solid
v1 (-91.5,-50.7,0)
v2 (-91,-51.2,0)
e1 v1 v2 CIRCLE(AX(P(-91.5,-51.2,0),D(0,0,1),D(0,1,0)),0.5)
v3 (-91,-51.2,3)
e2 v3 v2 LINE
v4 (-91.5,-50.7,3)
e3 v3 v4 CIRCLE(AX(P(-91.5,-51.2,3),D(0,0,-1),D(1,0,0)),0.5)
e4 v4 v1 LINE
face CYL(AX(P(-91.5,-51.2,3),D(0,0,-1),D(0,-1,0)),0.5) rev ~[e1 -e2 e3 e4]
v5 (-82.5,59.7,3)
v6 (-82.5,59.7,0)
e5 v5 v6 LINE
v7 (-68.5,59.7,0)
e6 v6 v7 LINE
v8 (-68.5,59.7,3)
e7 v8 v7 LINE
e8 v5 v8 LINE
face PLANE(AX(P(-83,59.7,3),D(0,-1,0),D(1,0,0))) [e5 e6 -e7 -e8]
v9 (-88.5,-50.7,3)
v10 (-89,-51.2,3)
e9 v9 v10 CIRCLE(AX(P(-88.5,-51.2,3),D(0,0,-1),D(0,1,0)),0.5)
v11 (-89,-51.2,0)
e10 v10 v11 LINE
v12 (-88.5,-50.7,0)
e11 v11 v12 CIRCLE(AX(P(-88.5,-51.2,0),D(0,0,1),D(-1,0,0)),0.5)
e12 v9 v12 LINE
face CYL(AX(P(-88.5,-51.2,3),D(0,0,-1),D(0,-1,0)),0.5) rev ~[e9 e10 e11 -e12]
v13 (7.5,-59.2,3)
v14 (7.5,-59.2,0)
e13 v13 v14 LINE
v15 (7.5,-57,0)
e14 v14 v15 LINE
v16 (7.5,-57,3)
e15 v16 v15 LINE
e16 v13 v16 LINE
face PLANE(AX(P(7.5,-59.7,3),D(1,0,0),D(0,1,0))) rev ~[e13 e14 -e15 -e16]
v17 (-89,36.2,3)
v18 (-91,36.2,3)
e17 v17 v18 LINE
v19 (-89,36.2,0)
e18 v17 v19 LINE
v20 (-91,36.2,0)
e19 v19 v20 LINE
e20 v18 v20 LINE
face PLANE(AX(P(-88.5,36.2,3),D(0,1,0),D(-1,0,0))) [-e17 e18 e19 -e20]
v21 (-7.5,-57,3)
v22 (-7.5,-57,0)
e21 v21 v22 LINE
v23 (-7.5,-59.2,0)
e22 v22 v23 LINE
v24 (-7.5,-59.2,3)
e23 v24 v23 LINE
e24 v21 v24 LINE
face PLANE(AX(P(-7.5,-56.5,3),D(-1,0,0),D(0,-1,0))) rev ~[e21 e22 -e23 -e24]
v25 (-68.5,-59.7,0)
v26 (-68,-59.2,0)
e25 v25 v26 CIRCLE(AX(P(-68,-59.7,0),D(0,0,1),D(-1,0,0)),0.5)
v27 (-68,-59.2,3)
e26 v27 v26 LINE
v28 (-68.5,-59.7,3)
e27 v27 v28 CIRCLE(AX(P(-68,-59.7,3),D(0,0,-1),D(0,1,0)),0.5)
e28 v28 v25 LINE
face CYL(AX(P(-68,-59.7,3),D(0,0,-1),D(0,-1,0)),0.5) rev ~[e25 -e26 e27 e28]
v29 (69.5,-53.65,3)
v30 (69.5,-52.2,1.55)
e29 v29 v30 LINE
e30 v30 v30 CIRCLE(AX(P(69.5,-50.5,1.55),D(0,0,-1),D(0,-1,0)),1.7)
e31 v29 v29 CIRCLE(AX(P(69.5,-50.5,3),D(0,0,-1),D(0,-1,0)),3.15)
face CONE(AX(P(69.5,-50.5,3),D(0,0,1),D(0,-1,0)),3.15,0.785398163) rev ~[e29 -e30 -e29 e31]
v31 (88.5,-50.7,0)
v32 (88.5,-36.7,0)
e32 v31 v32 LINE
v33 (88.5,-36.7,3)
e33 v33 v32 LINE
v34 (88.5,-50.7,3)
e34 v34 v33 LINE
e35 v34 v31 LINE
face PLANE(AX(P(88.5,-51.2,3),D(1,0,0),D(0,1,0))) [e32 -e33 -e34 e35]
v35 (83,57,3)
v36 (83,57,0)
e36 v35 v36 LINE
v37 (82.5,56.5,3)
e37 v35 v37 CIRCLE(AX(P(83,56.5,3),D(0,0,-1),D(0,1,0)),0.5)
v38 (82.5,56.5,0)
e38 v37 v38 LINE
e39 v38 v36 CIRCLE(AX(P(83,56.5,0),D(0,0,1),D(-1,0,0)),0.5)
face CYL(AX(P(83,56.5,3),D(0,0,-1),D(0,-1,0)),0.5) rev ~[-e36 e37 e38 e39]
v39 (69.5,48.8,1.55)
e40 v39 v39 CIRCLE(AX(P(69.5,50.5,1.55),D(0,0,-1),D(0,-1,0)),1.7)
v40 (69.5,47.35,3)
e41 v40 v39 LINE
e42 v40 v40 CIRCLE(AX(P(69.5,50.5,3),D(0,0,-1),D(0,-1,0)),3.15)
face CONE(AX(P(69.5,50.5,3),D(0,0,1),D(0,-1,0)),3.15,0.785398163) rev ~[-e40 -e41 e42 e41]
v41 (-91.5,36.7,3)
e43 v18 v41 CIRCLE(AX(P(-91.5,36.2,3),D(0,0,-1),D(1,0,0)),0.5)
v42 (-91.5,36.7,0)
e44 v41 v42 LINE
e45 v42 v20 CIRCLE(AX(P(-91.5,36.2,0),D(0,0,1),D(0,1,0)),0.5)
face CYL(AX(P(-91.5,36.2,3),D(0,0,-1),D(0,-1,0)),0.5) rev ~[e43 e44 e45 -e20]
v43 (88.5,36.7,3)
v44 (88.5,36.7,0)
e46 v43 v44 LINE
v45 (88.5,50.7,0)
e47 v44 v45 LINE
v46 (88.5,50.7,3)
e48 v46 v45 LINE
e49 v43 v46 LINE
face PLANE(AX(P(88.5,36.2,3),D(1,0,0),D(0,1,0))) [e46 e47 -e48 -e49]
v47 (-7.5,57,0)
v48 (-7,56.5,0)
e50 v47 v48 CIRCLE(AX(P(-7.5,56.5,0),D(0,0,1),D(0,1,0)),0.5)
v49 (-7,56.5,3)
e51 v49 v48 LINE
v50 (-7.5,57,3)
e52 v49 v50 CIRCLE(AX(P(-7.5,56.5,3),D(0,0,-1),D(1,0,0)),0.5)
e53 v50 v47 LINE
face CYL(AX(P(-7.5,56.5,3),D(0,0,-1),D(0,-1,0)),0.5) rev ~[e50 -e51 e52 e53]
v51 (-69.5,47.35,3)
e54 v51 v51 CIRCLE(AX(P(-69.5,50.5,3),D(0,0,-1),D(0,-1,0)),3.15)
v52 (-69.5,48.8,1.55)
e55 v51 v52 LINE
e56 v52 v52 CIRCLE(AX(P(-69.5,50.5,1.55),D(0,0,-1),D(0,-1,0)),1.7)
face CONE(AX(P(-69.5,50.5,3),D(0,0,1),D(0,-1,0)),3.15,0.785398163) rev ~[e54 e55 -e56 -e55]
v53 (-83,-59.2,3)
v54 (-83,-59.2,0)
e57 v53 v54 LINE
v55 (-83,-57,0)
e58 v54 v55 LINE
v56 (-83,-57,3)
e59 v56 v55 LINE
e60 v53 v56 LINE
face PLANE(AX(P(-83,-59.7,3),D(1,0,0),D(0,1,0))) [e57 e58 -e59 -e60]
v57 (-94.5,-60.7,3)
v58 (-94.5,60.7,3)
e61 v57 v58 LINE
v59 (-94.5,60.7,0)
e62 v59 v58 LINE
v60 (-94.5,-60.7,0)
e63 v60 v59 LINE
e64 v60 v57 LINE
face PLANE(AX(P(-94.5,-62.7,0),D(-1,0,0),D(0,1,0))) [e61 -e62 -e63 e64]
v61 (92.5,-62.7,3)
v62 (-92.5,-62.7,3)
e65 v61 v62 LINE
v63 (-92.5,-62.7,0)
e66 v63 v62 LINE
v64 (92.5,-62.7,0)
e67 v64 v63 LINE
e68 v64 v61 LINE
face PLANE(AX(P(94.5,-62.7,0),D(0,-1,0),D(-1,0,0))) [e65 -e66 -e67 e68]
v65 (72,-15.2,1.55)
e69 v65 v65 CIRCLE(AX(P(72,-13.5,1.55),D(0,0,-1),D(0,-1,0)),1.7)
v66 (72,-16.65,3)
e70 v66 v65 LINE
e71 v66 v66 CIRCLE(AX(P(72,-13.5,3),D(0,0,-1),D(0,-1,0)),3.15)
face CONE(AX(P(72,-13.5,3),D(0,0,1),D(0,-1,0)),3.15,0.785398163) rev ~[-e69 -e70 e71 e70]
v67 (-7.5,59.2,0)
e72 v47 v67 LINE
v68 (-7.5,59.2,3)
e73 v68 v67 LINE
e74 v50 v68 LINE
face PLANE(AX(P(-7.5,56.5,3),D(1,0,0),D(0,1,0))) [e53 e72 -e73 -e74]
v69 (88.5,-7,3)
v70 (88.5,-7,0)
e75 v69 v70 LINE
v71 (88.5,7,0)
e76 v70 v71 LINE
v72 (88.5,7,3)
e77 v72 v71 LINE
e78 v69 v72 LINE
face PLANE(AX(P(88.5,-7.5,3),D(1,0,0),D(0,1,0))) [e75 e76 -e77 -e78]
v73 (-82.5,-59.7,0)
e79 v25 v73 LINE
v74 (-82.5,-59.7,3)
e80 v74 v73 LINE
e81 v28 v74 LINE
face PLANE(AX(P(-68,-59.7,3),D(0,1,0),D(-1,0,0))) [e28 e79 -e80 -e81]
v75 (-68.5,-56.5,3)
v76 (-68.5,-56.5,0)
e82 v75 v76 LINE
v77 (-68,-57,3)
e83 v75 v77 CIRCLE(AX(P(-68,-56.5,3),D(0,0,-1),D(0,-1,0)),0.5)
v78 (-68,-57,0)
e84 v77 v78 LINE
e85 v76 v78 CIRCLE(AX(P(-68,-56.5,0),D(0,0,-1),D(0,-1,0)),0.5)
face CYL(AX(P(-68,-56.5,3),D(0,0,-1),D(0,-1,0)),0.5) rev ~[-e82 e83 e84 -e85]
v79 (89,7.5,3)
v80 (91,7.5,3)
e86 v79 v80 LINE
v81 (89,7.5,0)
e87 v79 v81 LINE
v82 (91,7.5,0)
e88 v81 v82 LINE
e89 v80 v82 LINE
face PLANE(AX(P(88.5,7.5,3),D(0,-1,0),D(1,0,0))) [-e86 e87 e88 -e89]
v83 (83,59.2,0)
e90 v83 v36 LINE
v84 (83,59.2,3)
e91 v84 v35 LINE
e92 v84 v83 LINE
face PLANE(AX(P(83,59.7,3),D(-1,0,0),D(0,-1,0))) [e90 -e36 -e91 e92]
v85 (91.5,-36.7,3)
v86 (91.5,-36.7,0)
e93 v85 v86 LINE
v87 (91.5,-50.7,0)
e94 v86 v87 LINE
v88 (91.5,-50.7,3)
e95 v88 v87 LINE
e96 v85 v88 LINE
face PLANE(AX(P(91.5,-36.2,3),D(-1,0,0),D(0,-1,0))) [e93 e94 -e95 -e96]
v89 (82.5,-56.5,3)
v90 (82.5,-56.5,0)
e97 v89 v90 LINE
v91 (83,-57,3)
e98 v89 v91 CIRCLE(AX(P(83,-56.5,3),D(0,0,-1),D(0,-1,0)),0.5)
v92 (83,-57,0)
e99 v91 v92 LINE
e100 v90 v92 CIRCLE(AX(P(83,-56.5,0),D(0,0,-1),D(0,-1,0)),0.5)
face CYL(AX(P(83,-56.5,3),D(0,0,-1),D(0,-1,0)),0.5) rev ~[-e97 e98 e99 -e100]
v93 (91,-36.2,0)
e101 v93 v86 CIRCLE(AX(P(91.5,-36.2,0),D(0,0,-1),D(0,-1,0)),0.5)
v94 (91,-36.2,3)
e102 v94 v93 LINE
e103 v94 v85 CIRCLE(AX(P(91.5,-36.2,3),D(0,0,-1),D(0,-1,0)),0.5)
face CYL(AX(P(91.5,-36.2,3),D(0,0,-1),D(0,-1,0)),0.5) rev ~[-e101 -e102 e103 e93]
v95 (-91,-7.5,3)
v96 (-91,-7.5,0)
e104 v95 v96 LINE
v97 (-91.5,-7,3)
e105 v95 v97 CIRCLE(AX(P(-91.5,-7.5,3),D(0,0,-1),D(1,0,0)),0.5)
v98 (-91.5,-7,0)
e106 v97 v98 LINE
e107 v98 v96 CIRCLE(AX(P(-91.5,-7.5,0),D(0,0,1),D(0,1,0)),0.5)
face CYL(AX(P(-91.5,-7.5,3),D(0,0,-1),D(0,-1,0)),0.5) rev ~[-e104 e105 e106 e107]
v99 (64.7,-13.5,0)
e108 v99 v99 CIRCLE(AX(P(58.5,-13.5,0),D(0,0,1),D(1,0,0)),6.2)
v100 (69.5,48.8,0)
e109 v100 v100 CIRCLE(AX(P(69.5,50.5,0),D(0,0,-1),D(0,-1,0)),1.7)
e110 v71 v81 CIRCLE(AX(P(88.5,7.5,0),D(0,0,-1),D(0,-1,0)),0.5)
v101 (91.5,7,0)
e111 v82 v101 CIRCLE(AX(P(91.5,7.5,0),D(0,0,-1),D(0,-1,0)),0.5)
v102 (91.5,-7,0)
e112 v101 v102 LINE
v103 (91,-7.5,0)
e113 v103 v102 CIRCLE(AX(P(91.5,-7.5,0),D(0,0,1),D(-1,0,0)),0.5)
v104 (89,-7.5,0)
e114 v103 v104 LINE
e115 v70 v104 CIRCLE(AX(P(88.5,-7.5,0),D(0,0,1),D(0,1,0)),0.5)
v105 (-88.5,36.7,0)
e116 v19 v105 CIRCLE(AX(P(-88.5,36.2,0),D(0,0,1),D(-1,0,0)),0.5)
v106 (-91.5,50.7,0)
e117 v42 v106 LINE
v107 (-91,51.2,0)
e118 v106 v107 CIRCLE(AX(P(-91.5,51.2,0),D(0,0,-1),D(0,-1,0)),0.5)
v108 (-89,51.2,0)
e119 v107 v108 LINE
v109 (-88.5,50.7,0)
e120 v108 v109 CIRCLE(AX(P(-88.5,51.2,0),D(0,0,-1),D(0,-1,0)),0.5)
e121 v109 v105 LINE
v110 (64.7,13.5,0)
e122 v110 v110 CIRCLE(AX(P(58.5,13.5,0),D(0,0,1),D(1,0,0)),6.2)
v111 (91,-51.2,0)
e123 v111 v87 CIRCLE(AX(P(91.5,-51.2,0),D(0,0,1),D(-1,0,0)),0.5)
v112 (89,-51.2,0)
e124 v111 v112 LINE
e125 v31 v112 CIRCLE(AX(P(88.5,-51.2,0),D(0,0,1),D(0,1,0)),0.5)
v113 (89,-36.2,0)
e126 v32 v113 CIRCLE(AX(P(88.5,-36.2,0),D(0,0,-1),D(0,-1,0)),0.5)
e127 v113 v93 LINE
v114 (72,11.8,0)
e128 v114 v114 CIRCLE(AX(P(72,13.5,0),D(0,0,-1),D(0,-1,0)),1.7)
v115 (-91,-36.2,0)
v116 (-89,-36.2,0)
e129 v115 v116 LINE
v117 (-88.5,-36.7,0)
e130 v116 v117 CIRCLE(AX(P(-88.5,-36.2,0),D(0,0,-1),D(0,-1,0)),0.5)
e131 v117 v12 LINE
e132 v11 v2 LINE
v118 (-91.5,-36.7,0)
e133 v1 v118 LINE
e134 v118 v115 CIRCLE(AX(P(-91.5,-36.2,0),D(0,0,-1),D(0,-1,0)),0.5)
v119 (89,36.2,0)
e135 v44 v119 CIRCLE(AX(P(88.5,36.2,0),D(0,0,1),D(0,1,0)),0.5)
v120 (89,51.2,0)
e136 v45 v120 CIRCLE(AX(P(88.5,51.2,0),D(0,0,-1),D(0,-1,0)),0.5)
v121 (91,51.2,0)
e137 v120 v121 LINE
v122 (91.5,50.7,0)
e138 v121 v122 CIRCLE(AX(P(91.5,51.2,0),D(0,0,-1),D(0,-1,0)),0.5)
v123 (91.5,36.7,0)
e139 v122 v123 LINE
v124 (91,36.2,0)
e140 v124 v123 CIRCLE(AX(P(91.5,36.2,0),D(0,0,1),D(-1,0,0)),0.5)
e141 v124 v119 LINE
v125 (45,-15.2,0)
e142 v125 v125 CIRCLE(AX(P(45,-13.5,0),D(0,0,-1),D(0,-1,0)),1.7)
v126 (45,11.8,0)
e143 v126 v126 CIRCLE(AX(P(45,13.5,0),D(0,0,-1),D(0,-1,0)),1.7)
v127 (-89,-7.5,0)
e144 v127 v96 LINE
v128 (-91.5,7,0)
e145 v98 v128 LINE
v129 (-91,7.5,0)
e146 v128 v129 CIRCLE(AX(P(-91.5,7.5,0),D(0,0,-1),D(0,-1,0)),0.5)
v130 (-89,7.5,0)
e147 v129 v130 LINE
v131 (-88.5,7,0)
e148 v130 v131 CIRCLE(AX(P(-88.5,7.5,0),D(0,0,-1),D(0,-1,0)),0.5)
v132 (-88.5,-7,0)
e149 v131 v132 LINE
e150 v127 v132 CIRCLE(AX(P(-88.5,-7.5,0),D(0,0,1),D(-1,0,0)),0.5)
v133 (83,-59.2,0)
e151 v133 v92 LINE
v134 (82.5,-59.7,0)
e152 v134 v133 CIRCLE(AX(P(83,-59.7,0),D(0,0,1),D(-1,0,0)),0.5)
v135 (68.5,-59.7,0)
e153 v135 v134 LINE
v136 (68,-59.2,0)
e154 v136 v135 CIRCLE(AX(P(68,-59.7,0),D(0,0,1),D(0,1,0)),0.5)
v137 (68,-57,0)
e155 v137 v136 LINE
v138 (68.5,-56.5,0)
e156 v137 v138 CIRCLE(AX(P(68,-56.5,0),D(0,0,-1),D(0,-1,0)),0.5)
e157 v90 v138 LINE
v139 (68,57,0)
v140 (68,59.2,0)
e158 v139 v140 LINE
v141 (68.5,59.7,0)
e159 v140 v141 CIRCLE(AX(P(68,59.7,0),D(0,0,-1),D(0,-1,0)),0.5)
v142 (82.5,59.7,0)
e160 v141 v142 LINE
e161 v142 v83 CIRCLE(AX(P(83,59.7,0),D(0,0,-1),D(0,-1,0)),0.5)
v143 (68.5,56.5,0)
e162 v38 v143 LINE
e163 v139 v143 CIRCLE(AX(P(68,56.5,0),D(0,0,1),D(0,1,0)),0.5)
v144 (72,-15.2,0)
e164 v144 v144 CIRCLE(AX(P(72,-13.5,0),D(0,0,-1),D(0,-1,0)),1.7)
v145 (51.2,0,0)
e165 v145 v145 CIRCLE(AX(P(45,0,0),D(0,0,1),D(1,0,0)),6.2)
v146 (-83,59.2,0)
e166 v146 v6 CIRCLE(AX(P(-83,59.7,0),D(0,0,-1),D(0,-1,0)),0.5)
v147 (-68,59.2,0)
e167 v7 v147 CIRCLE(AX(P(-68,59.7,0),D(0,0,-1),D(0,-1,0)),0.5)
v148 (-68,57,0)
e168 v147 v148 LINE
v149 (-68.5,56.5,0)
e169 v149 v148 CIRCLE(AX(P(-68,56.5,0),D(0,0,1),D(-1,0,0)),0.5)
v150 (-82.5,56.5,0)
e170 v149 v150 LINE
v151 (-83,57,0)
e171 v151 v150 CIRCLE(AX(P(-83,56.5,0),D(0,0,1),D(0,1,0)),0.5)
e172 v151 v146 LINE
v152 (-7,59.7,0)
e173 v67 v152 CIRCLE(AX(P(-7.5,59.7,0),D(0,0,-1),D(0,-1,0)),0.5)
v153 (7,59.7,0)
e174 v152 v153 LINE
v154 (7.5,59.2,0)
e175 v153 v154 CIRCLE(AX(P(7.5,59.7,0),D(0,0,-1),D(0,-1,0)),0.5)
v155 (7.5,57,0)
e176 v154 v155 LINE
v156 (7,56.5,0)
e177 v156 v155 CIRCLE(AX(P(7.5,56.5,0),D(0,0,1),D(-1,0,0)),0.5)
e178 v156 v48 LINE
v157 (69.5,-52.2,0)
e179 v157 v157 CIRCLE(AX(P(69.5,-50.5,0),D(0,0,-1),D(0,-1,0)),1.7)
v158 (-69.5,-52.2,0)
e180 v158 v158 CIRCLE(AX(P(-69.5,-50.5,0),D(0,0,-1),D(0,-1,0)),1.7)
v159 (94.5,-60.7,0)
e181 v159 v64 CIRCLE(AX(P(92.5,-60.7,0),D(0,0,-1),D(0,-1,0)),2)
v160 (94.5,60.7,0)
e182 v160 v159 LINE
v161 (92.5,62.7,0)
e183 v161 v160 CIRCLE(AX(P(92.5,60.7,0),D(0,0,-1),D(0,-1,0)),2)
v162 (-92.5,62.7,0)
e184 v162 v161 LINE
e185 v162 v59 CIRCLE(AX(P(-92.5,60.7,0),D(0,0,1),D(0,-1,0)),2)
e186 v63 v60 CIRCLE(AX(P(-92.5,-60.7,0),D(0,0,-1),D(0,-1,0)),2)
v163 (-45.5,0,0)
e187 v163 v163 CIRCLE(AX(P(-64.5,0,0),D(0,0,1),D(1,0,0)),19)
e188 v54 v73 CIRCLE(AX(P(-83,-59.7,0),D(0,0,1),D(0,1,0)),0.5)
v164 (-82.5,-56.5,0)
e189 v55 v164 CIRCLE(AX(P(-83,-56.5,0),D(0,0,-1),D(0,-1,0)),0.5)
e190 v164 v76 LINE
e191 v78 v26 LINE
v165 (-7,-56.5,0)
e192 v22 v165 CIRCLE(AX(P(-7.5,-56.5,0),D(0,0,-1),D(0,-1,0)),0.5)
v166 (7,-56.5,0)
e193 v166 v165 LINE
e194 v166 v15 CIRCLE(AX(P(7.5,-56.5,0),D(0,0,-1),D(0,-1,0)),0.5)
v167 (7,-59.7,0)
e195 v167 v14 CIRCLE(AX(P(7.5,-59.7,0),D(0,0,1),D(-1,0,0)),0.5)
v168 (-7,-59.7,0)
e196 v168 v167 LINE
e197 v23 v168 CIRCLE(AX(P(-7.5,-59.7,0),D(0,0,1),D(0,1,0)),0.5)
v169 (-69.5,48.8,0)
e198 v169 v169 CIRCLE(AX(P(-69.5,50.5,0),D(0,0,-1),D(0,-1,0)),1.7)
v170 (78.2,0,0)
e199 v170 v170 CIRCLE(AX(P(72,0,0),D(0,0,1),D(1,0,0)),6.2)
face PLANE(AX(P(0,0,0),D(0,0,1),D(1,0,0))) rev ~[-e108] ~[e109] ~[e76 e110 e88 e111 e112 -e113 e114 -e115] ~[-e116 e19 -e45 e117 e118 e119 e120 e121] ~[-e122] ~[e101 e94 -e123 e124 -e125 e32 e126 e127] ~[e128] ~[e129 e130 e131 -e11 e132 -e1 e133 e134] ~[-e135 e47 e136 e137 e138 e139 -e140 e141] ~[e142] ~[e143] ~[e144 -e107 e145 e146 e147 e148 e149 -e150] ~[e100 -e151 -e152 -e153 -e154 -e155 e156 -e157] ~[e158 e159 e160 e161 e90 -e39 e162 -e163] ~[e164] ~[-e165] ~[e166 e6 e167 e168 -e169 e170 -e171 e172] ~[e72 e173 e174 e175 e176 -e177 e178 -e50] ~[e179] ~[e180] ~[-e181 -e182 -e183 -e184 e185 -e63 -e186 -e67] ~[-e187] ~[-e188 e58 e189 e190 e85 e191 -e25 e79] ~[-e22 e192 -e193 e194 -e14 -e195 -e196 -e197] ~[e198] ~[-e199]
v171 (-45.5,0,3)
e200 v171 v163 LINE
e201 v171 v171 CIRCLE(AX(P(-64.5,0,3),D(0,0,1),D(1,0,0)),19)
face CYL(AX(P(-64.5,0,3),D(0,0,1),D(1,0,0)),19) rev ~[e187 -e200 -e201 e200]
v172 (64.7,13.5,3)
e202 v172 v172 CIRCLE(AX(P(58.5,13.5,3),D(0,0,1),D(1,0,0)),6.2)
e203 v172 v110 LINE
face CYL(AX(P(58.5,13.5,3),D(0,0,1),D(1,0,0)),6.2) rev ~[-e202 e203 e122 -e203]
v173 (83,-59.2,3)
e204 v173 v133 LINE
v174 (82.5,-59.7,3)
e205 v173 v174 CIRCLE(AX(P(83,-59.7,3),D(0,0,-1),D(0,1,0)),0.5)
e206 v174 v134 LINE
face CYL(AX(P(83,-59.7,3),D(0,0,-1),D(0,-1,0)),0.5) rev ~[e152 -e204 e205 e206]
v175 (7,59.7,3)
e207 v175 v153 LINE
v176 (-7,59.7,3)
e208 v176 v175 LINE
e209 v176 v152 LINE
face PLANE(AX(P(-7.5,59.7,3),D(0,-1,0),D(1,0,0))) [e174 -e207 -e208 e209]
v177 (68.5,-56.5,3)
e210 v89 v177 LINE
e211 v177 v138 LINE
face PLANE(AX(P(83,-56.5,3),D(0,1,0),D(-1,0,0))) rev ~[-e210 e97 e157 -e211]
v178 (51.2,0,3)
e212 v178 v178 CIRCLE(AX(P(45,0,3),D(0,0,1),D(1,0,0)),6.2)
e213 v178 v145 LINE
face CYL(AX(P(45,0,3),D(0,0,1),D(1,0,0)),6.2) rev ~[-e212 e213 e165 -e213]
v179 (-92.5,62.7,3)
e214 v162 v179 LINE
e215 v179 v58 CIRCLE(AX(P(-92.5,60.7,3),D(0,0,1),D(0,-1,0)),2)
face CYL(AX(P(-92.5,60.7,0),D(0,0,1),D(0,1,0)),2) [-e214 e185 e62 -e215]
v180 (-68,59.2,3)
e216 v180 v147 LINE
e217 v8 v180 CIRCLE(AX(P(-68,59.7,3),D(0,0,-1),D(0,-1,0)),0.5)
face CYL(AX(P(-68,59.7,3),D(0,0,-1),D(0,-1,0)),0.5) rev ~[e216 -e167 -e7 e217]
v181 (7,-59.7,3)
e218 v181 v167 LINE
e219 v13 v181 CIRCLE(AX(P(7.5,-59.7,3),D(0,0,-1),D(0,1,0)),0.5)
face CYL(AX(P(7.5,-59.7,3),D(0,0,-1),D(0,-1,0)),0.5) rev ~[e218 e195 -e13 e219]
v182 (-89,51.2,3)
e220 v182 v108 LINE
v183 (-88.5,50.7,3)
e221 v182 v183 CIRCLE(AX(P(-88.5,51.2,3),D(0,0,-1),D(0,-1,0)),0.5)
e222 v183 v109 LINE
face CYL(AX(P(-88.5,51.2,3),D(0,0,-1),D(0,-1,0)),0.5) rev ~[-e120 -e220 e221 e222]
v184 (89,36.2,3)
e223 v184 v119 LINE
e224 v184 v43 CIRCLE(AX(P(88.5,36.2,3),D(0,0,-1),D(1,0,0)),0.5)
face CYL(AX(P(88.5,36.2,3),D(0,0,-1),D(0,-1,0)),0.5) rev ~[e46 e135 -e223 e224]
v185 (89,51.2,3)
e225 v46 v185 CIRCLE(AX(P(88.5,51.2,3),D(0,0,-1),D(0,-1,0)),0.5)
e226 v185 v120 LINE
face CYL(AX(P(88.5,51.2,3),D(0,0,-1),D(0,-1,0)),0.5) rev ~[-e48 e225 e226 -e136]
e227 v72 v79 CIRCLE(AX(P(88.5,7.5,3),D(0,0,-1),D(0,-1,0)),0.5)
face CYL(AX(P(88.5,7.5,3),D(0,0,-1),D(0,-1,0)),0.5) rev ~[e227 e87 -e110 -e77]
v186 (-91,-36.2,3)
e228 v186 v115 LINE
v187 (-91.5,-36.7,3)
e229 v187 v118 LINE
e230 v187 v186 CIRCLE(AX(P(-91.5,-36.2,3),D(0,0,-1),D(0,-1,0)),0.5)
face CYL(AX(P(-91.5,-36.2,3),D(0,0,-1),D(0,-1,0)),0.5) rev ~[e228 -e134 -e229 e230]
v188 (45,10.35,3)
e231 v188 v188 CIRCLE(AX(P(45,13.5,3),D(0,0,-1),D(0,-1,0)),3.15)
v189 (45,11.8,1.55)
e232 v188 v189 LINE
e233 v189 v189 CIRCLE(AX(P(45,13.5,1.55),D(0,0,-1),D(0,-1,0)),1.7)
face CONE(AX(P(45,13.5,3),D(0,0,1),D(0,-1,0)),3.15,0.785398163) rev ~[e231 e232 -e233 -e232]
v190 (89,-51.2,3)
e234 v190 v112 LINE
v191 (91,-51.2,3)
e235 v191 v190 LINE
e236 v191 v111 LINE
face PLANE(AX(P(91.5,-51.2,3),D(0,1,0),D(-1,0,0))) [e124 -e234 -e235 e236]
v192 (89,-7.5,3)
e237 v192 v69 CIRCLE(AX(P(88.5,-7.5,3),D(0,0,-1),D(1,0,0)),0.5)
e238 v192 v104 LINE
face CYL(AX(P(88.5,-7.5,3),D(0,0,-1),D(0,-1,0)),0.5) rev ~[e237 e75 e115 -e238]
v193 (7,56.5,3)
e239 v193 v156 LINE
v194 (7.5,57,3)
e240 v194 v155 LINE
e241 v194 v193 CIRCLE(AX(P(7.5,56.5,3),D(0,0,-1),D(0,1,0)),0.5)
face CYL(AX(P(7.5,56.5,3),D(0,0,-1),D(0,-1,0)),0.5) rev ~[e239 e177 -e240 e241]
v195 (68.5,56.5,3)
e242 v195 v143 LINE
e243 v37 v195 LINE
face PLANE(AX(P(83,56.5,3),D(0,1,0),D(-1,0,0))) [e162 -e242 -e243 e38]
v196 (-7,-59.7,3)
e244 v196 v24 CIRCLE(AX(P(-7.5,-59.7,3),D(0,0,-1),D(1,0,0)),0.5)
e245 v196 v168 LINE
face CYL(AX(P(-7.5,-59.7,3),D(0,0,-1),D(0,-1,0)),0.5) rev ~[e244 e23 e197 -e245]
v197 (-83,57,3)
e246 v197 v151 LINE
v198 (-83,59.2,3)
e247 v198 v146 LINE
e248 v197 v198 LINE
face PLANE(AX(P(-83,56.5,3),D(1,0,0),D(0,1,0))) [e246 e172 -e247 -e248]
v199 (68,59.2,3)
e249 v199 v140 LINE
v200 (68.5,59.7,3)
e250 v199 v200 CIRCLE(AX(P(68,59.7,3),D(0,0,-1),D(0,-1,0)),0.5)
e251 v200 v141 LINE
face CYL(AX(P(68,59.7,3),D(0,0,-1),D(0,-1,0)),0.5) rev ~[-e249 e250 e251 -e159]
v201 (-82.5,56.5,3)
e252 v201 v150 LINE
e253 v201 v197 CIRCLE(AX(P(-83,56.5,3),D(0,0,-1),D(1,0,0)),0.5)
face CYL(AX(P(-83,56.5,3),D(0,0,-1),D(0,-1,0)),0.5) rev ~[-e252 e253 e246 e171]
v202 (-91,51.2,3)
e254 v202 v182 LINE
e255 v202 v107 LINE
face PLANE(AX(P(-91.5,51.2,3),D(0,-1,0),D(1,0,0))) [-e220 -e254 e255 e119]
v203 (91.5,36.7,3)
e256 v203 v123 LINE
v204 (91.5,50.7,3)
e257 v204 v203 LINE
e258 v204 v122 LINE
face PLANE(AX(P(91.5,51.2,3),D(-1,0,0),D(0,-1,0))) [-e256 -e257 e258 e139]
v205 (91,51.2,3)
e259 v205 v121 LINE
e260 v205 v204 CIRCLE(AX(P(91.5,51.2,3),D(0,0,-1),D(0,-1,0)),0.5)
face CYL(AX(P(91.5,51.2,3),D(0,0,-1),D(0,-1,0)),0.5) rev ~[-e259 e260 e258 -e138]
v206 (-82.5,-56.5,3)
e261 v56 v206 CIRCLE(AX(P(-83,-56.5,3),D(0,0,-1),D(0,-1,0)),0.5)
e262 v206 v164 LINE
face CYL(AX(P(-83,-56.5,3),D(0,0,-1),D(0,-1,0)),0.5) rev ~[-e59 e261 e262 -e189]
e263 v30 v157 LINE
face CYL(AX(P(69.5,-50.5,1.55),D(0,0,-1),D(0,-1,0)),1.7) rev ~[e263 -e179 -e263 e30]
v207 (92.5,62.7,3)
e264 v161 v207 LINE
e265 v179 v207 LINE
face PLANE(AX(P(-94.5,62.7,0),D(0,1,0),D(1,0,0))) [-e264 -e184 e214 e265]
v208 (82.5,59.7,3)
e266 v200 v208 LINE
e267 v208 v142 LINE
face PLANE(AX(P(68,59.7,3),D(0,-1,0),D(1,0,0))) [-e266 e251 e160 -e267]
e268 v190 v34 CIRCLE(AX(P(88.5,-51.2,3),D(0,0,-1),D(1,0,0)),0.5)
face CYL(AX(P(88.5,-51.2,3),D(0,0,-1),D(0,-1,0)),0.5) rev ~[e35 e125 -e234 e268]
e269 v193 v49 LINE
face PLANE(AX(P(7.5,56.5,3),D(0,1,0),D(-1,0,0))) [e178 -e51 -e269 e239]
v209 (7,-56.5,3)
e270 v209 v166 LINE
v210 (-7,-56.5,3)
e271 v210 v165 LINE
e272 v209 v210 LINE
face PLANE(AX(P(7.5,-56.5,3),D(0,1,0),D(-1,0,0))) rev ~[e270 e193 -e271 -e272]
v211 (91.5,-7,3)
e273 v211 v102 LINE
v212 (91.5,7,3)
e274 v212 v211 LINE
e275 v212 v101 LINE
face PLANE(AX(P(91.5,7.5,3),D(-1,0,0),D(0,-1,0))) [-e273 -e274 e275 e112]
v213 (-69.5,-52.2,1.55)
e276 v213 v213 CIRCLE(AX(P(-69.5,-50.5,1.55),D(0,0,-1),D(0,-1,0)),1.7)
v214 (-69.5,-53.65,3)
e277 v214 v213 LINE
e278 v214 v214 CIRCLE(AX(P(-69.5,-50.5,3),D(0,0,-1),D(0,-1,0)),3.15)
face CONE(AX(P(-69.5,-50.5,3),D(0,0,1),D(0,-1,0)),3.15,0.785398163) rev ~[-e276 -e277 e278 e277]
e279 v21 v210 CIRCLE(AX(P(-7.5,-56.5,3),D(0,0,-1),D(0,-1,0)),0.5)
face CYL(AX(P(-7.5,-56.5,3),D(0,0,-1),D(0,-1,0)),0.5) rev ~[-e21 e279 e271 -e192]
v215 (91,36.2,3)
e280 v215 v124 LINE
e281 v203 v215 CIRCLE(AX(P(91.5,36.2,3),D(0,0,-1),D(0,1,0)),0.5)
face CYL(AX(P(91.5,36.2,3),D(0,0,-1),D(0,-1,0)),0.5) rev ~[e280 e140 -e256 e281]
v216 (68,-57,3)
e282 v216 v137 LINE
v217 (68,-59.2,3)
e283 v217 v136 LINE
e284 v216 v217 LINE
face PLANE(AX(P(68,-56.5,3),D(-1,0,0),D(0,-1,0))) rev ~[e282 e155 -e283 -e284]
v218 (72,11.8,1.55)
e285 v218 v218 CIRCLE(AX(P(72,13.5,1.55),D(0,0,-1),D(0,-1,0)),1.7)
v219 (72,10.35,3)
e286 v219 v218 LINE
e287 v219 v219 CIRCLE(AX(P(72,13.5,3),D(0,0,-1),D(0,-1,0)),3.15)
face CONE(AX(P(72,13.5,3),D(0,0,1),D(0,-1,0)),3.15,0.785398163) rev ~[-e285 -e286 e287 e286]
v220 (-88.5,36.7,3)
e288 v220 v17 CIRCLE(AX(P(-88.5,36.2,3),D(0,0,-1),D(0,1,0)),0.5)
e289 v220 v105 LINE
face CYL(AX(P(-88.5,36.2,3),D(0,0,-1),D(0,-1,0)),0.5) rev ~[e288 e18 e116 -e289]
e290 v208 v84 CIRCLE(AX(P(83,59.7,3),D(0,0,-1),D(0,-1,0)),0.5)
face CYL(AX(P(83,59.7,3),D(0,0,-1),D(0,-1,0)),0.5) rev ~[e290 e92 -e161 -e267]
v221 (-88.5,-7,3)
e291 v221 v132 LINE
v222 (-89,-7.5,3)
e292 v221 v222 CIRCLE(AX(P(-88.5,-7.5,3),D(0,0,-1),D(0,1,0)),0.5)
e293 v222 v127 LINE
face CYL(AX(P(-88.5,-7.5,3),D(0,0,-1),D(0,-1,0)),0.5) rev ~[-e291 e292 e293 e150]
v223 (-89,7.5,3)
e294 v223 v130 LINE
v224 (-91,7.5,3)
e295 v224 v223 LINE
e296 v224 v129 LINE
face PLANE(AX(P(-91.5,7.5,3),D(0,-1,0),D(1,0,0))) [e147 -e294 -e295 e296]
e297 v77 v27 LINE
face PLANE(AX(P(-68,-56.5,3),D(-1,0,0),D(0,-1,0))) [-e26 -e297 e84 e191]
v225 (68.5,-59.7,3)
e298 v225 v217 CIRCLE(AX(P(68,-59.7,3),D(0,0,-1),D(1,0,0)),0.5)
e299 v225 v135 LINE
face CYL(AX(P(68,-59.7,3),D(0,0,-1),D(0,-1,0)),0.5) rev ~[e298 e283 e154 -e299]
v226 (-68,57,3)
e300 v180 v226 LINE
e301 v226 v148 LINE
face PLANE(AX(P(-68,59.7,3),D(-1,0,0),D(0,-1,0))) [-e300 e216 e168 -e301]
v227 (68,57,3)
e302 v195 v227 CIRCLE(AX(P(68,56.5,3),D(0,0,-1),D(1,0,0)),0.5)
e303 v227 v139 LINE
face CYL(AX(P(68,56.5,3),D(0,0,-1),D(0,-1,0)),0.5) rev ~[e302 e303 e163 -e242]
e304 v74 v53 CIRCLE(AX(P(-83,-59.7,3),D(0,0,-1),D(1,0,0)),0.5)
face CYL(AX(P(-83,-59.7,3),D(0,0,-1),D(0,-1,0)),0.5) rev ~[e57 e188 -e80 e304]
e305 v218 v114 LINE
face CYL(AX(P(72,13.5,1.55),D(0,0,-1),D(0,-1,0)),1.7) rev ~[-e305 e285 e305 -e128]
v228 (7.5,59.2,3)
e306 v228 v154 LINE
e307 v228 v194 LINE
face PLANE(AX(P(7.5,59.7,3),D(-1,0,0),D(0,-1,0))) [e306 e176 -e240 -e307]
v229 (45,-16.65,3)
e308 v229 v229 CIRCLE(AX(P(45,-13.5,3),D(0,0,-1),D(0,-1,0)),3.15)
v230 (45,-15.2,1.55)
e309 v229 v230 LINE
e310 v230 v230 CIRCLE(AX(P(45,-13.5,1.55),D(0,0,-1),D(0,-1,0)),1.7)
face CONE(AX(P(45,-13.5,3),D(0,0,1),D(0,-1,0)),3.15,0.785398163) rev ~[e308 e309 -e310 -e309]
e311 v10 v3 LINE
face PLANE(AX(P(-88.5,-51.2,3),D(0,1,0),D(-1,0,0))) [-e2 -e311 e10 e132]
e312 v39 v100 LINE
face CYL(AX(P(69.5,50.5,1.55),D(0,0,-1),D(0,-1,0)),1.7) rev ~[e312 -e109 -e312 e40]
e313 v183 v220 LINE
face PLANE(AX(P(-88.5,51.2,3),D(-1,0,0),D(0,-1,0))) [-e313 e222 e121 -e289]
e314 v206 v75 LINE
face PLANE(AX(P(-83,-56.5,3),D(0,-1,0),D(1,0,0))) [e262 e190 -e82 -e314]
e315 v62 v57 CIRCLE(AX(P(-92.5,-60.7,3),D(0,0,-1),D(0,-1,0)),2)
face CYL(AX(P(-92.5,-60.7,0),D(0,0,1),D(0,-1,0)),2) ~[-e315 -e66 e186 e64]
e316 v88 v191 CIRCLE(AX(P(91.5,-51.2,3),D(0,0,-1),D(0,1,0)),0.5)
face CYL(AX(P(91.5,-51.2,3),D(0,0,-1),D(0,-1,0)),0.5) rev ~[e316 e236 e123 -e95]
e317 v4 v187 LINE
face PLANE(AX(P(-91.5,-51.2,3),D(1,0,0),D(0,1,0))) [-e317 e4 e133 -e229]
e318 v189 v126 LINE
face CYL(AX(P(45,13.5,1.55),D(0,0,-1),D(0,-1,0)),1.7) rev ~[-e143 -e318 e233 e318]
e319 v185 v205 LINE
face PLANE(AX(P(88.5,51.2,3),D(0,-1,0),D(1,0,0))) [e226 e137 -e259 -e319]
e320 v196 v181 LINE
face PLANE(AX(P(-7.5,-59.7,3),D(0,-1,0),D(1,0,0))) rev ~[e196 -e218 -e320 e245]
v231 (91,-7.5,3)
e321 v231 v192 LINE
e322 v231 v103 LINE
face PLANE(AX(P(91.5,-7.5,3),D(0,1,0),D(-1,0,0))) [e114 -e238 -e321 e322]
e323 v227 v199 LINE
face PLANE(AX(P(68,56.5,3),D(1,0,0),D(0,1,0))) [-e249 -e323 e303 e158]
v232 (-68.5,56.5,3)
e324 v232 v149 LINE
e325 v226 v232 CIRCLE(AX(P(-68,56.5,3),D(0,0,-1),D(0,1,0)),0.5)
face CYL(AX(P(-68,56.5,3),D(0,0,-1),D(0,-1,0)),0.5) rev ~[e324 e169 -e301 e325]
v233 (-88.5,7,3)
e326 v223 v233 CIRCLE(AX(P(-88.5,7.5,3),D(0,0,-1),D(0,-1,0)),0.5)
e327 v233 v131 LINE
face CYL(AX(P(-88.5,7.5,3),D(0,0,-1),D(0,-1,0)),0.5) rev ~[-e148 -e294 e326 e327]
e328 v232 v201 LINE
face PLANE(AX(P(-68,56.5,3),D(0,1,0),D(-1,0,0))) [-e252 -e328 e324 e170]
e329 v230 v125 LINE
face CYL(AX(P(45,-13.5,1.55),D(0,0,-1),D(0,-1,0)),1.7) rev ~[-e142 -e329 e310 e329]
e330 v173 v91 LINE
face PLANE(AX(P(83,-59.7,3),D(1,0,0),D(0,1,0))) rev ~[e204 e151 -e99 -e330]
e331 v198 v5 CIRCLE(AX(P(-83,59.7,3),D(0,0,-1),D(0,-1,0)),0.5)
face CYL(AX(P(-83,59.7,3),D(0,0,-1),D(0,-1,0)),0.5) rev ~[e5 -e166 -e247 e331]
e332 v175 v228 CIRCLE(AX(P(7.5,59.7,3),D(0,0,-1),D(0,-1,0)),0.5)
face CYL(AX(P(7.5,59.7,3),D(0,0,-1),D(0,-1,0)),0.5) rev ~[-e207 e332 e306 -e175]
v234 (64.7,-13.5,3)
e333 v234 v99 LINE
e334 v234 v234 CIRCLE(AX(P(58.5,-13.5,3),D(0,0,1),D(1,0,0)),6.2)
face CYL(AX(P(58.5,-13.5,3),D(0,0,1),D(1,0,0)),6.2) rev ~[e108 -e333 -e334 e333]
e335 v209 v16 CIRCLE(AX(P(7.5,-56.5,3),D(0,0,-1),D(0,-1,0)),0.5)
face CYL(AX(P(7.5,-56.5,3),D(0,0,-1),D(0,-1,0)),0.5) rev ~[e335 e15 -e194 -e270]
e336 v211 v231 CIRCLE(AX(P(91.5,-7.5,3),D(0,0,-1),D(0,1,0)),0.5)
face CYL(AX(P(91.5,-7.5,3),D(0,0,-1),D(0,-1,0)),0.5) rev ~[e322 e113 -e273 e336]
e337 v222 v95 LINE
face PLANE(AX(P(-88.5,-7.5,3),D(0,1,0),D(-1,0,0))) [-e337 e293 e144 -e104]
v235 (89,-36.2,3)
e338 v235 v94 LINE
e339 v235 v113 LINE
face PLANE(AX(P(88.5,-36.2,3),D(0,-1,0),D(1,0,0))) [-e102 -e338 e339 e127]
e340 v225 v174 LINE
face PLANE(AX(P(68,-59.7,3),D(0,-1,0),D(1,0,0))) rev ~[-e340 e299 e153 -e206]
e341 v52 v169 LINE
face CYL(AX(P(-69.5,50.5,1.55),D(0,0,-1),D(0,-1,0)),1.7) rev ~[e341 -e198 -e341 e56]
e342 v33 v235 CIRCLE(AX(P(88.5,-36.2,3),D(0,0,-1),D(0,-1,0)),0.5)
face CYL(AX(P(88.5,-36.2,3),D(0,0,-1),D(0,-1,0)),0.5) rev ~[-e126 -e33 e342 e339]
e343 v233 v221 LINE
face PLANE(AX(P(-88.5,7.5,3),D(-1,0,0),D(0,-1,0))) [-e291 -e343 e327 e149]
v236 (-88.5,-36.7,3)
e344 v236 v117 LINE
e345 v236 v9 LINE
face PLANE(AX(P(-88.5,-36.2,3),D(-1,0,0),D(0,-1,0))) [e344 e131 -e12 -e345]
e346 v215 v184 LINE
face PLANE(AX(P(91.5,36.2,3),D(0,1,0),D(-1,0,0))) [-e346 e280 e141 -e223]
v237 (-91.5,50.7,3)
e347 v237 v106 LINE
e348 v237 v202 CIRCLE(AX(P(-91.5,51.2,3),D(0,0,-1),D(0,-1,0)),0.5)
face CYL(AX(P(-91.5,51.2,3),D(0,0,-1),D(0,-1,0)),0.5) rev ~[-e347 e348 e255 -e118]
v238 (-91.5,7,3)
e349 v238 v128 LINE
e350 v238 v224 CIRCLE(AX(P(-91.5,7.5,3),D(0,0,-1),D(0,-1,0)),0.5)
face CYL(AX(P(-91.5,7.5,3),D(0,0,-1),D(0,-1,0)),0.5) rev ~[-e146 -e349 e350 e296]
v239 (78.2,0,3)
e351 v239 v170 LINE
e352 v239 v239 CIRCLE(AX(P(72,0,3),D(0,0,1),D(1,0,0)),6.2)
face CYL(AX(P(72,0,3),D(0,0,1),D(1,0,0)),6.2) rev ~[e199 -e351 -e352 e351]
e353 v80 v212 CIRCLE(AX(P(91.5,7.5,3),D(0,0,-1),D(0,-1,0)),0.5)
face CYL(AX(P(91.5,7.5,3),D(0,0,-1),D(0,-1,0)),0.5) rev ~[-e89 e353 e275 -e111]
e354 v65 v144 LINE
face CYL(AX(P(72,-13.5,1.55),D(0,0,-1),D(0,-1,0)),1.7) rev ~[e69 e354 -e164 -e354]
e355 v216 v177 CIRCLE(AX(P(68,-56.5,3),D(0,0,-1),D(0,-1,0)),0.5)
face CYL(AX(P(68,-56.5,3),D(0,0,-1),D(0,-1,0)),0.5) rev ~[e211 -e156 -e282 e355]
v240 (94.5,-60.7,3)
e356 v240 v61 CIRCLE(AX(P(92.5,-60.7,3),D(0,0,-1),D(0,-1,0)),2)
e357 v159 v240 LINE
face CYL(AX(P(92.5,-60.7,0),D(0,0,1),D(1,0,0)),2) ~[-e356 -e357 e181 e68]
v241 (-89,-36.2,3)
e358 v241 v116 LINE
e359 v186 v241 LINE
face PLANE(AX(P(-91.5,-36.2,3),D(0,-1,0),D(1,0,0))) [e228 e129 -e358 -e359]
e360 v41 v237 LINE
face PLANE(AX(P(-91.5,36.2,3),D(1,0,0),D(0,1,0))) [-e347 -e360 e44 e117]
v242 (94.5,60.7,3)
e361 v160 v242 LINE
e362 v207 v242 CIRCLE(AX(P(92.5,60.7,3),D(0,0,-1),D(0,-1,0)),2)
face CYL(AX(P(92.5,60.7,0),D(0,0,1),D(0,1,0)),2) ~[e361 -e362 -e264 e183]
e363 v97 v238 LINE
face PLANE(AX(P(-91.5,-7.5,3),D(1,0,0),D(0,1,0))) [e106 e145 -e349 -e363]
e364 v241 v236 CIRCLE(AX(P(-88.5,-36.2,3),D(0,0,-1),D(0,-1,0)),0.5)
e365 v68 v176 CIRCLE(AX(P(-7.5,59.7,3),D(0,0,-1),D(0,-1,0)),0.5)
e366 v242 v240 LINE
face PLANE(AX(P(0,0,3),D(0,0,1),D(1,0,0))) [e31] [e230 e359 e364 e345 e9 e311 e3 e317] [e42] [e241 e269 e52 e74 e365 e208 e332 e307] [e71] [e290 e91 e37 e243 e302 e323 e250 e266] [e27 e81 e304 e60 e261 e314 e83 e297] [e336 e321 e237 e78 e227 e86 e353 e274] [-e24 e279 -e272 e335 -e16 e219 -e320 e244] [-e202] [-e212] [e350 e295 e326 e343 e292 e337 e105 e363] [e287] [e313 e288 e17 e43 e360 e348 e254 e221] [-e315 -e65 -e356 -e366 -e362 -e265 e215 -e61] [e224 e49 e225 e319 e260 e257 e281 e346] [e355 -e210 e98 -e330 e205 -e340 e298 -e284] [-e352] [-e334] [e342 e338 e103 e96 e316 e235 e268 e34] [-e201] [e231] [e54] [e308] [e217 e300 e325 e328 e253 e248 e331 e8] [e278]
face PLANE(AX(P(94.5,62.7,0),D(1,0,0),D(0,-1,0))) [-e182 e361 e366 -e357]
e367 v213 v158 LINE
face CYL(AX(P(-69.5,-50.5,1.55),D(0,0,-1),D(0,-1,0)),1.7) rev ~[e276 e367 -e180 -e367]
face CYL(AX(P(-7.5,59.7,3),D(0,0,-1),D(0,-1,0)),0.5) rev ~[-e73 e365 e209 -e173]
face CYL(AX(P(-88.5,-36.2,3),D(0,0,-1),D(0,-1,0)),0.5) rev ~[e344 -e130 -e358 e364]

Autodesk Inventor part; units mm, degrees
ref_plane "Plan YZ" through (0, 0, 0) normal (1, 0, 0) x (0, 1, 0)
ref_plane "Plan XZ" through (0, 0, 0) normal (0, 1, 0) x (-1, 0, 0)
ref_plane "Plan XY" through (0, 0, 0) normal (0, 0, 1) x (1, 0, 0)
sketch "Esquisse1" plane through (0, 0, 0) normal (0, 0, 1) x (1, 0, 0)
  line L0 (-94.5, 62.7) -> (94.5, 62.7)
  line L1 (94.5, 62.7) -> (94.5, -62.7)
  line L2 (94.5, -62.7) -> (-94.5, -62.7)
  line L3 (-94.5, -62.7) -> (-94.5, 62.7)
  line L4 (0, -87.78) -> (0, 87.78) construction
  line L5 (-132.3, 0) -> (132.3, 0) construction
  point P0 (0, 0)
  dimension "d0" = 189
  dimension "d1" = 125.4
extrude "Extrusion1" add sketch "Esquisse1" along normal blind 3
fillet "Congé1" radius 2 4 edges at (-94.5, 62.7, 1.5) (94.5, 62.7, 1.5) (94.5, -62.7, 1.5) (-94.5, -62.7, 1.5)
sketch "Esquisse21" plane through (0, 0, 3) normal (0, 0, 1) x (1, 0, 0)
  line L0 (-132.3, 0) -> (132.3, 0) construction
  line L1 (0, -87.78) -> (0, 87.78) construction
  line L2 (-7.5, 59.7) -> (7.5, 59.7)
  line L3 (7.5, 59.7) -> (7.5, 56.5)
  line L4 (7.5, 56.5) -> (-7.5, 56.5)
  line L5 (-7.5, 56.5) -> (-7.5, 59.7)
  line L6 (-92.5, 62.7) -> (92.5, 62.7) construction
  line L7 (-83, 59.7) -> (-68, 59.7)
  line L8 (-68, 59.7) -> (-68, 56.5)
  line L9 (-68, 56.5) -> (-83, 56.5)
  line L10 (-83, 56.5) -> (-83, 59.7)
  line L11 (-94.5, -60.7) -> (-94.5, 60.7) construction
  line L12 (68, 59.7) -> (83, 59.7)
  line L13 (83, 59.7) -> (83, 56.5)
  line L14 (83, 56.5) -> (68, 56.5)
  line L15 (68, 56.5) -> (68, 59.7)
  line L16 (-83, -56.5) -> (-68, -56.5)
  line L17 (-68, -56.5) -> (-68, -59.7)
  line L18 (-68, -59.7) -> (-83, -59.7)
  line L19 (-83, -59.7) -> (-83, -56.5)
  line L20 (-7.5, -59.7) -> (7.5, -59.7)
  line L21 (7.5, -59.7) -> (7.5, -56.5)
  line L22 (7.5, -56.5) -> (-7.5, -56.5)
  line L23 (-7.5, -56.5) -> (-7.5, -59.7)
  line L24 (68, -59.7) -> (83, -59.7)
  line L25 (83, -59.7) -> (83, -56.5)
  line L26 (83, -56.5) -> (68, -56.5)
  line L27 (68, -56.5) -> (68, -59.7)
  point P0 (0, 0)
  dimension "d216" = 15
  dimension "d217" = 3.2
  dimension "d218" = 3
  dimension "d221" = 11.5
extrude "Extrusion8" cut sketch "Esquisse21" against normal through all
sketch "Esquisse24" plane through (0, 0, 3) normal (0, 0, 1) x (1, 0, 0)
  line L0 (-91.5, 7.5) -> (-88.5, 7.5)
  line L1 (-88.5, 7.5) -> (-88.5, -7.5)
  line L2 (-88.5, -7.5) -> (-91.5, -7.5)
  line L3 (-91.5, -7.5) -> (-91.5, 7.5)
  line L4 (88.5, 7.5) -> (91.5, 7.5)
  line L5 (91.5, 7.5) -> (91.5, -7.5)
  line L6 (91.5, -7.5) -> (88.5, -7.5)
  line L7 (88.5, -7.5) -> (88.5, 7.5)
  line L8 (0, -87.78) -> (0, 87.78) construction
  line L9 (-91.5, 51.2) -> (-88.5, 51.2)
  line L10 (-88.5, 51.2) -> (-88.5, 36.2)
  line L11 (-88.5, 36.2) -> (-91.5, 36.2)
  line L12 (-91.5, 36.2) -> (-91.5, 51.2)
  line L13 (-91.5, -36.2) -> (-88.5, -36.2)
  line L14 (-88.5, -36.2) -> (-88.5, -51.2)
  line L15 (-88.5, -51.2) -> (-91.5, -51.2)
  line L16 (-91.5, -51.2) -> (-91.5, -36.2)
  line L17 (91.5, -51.2) -> (88.5, -51.2)
  line L18 (88.5, -51.2) -> (88.5, -36.2)
  line L19 (88.5, -36.2) -> (91.5, -36.2)
  line L20 (91.5, -36.2) -> (91.5, -51.2)
  line L21 (88.5, 51.2) -> (91.5, 51.2)
  line L22 (91.5, 51.2) -> (91.5, 36.2)
  line L23 (91.5, 36.2) -> (88.5, 36.2)
  line L24 (88.5, 36.2) -> (88.5, 51.2)
  line L25 (-94.5, -60.7) -> (-94.5, 60.7) construction
  line L26 (-132.3, 0) -> (132.3, 0) construction
  line L27 (92.5, -62.7) -> (-92.5, -62.7) construction
  point P0 (0, 0)
  dimension "d248" = 15
  dimension "d249" = 3
  dimension "d250" = 3
  dimension "d251" = 11.5
extrude "Extrusion9" cut sketch "Esquisse24" against normal through all
sketch "Esquisse23" plane through (0, 0, 3) normal (0, 0, 1) x (1, 0, 0)
  line L0 (0, -87.78) -> (0, 87.78) construction
  line L1 (-132.3, 0) -> (132.3, 0) construction
  point P0 (0, 0)
  point P1 (-69.5, 50.5)
  point P2 (69.5, 50.5)
  point P3 (69.5, -50.5)
  point P4 (-69.5, -50.5)
  dimension "d238" = 139
  dimension "d239" = 101
hole "Perçage11" at (-69.5, 50.5, 3) at (69.5, 50.5, 3) at (69.5, -50.5, 3) at (-69.5, -50.5, 3) direction (0, 0, -1) diameter 3.4 end through all countersink diameter 6.3 countersink angle 90 clearance for "Vis à tête plate fraisée ISO 2009/7046" size "M3" standard "ISO"
sketch "Esquisse19" plane through (0, 0, 3) normal (0, 0, 1) x (1, 0, 0)
  circle A0 centre (-64.5, 0) radius 19
  line L0 (-94.5, -62.7) -> (-94.5, 62.7) construction
  line L1 (94.5, 62.7) -> (94.5, -62.7) construction
  circle A1 centre (45, 0) radius 6.2
  circle A2 centre (58.5, 13.5) radius 6.2
  circle A3 centre (72, 0) radius 6.2
  circle A4 centre (58.5, -13.5) radius 6.2
  line L2 (-132.3, 0) -> (132.3, 0) construction
  line L3 (58.5, 21.3668) -> (58.5, -24.5491) construction
  circle A5 centre (-69.5, -50.5) radius 1.7 construction
  line L4 (88.5, -7.5) -> (88.5, 7.5) projected
  point P0 (0, 0)
  dimension "d178" = 38
  dimension "d193" = 12.4
  dimension "d208" = 27
  dimension "d209" = 27
  dimension "d247" = 5
  dimension "d254" = 16.5
extrude "Extrusion7" cut sketch "Esquisse19" against normal through all
sketch "Esquisse20" plane through (0, 0, 3) normal (0, 0, 1) x (1, 0, 0)
  line L0 (-132.3, 0) -> (132.3, 0) construction
  circle A0 centre (72, 0) radius 6.2 construction
  circle A1 centre (58.5, 13.5) radius 6.2 construction
  circle A2 centre (45, 0) radius 6.2 construction
  point P0 (0, 0)
  point P1 (45, 13.5)
  point P2 (72, 13.5)
  point P3 (45, -13.5)
  point P4 (72, -13.5)
hole "Perçage8" at (45, 13.5, 3) at (72, 13.5, 3) at (45, -13.5, 3) at (72, -13.5, 3) direction (0, 0, -1) diameter 3.4 end through all countersink diameter 6.3 countersink angle 90 clearance for "Vis à tête plate fraisée ISO 2009/7046" size "M3" standard "ISO"
sketch "Esquisse22" plane through (0, 0, 3) normal (0, 0, 1) x (1, 0, 0)
  line L0 (-83, 59.7) -> (-68, 59.7) construction
  line L1 (-68, 56.5) -> (-83, 56.5) construction
  line L2 (-83, 56.5) -> (-83, 59.7) construction
  line L3 (-68, 59.7) -> (-68, 56.5) construction
  line L4 (-7.5, 56.5) -> (-7.5, 59.7) construction
  line L5 (-7.5, 59.7) -> (7.5, 59.7) construction
  line L6 (7.5, 56.5) -> (-7.5, 56.5) construction
  line L7 (7.5, 59.7) -> (7.5, 56.5) construction
  line L8 (83, 56.5) -> (68, 56.5) construction
  line L9 (68, 59.7) -> (83, 59.7) construction
  line L10 (68, 56.5) -> (68, 59.7) construction
  line L11 (83, 59.7) -> (83, 56.5) construction
  line L12 (7.5, -56.5) -> (7.5, -59.7) construction
  line L13 (7.5, -59.7) -> (-7.5, -59.7) construction
  line L14 (-7.5, -59.7) -> (-7.5, -56.5) construction
  line L15 (-7.5, -56.5) -> (7.5, -56.5) construction
  line L16 (68, 56.5) -> (68, 59.7) construction
  line L17 (68, 59.7) -> (83, 59.7) construction
  line L18 (83, 59.7) -> (83, 56.5) construction
  line L19 (83, 56.5) -> (68, 56.5) construction
  line L20 (-7.5, 56.5) -> (-7.5, 59.7) construction
  line L21 (-7.5, 59.7) -> (7.5, 59.7) construction
  line L22 (7.5, 59.7) -> (7.5, 56.5) construction
  line L23 (7.5, 56.5) -> (-7.5, 56.5) construction
  line L24 (-83, 56.5) -> (-83, 59.7) construction
  line L25 (-83, 59.7) -> (-68, 59.7) construction
  line L26 (-68, 59.7) -> (-68, 56.5) construction
  line L27 (-68, 56.5) -> (-83, 56.5) construction
  line L28 (-83, -59.7) -> (-83, -56.5) construction
  line L29 (-83, -56.5) -> (-68, -56.5) construction
  line L30 (-68, -56.5) -> (-68, -59.7) construction
  line L31 (-68, -59.7) -> (-83, -59.7) construction
  line L32 (83, -56.5) -> (83, -59.7) construction
  line L33 (83, -59.7) -> (68, -59.7) construction
  line L34 (68, -59.7) -> (68, -56.5) construction
  line L35 (68, -56.5) -> (83, -56.5) construction
  circle A0 centre (45, -13.5) radius 3.15 construction
  circle A1 centre (45, 13.5) radius 3.15 construction
  circle A2 centre (72, 13.5) radius 3.15 construction
  circle A3 centre (72, -13.5) radius 3.15 construction
  circle A4 centre (58.5, -13.5) radius 6.2 construction
  circle A5 centre (58.5, 13.5) radius 6.2 construction
  circle A6 centre (45, 0) radius 6.2 construction
  circle A7 centre (72, 0) radius 6.2 construction
  circle A8 centre (-64.5, 0) radius 19 construction
  arc A9 (-94.5, -60.7) -> (-92.5, -62.7) centre (-92.5, -60.7) ccw construction
  line L36 (92.5, -62.7) -> (-92.5, -62.7) construction
  arc A10 (92.5, -62.7) -> (94.5, -60.7) centre (92.5, -60.7) ccw construction
  line L37 (94.5, 60.7) -> (94.5, -60.7) construction
  arc A11 (94.5, 60.7) -> (92.5, 62.7) centre (92.5, 60.7) ccw construction
  line L38 (-92.5, 62.7) -> (92.5, 62.7) construction
  arc A12 (-92.5, 62.7) -> (-94.5, 60.7) centre (-92.5, 60.7) ccw construction
  line L39 (-94.5, -60.7) -> (-94.5, 60.7) construction
  line L40 (-88.5, 51.2) -> (-88.5, 36.2) construction
  line L41 (-91.5, 51.2) -> (-88.5, 51.2) construction
  line L42 (-91.5, 36.2) -> (-91.5, 51.2) construction
  line L43 (-88.5, 36.2) -> (-91.5, 36.2) construction
  line L44 (-88.5, -7.5) -> (-91.5, -7.5) construction
  line L45 (-88.5, 7.5) -> (-88.5, -7.5) construction
  line L46 (-91.5, -7.5) -> (-91.5, 7.5) construction
  line L47 (-91.5, 7.5) -> (-88.5, 7.5) construction
  line L48 (-88.5, -36.2) -> (-88.5, -51.2) construction
  line L49 (-91.5, -36.2) -> (-88.5, -36.2) construction
  line L50 (-91.5, -51.2) -> (-91.5, -36.2) construction
  line L51 (-88.5, -51.2) -> (-91.5, -51.2) construction
  line L52 (91.5, 36.2) -> (88.5, 36.2) construction
  line L53 (88.5, 36.2) -> (88.5, 51.2) construction
  line L54 (88.5, 51.2) -> (91.5, 51.2) construction
  line L55 (91.5, 51.2) -> (91.5, 36.2) construction
  line L56 (88.5, 7.5) -> (91.5, 7.5) construction
  line L57 (88.5, -7.5) -> (88.5, 7.5) construction
  line L58 (91.5, 7.5) -> (91.5, -7.5) construction
  line L59 (91.5, -7.5) -> (88.5, -7.5) construction
  line L60 (88.5, -36.2) -> (91.5, -36.2) construction
  line L61 (88.5, -51.2) -> (88.5, -36.2) construction
  line L62 (91.5, -36.2) -> (91.5, -51.2) construction
  line L63 (91.5, -51.2) -> (88.5, -51.2) construction
  point P0 (0, 0)
hole "Perçage9" at (-83, 59.7, 3) at (-68, 59.7, 3) at (-68, 56.5, 3) at (-83, 56.5, 3) at (-7.5, 59.7, 3) at (7.5, 59.7, 3) at (7.5, 56.5, 3) at (68, 56.5, 3) at (68, 59.7, 3) at (83, 56.5, 3) at (83, 59.7, 3) at (83, -56.5, 3) at (83, -59.7, 3) at (68, -59.7, 3) at (68, -56.5, 3) at (-7.5, -56.5, 3) at (-7.5, -59.7, 3) at (7.5, -59.7, 3) at (-68, -59.7, 3) at (-83, -59.7, 3) at (-7.5, 56.5, 3) at (-83, -56.5, 3) at (-68, -56.5, 3) at (7.5, -56.5, 3) at (-88.5, 51.2, 3) at (-91.5, 51.2, 3) at (-91.5, 36.2, 3) at (-88.5, 36.2, 3) at (-88.5, 7.5, 3) at (-91.5, 7.5, 3) at (-91.5, -7.5, 3) at (-88.5, -7.5, 3) at (-88.5, -36.2, 3) at (-91.5, -36.2, 3) at (-91.5, -51.2, 3) at (-88.5, -51.2, 3) at (88.5, -36.2, 3) at (91.5, -36.2, 3) at (91.5, -51.2, 3) at (88.5, -51.2, 3) at (88.5, -7.5, 3) at (91.5, -7.5, 3) at (88.5, -7.5, 3) at (88.5, 7.5, 3) at (91.5, 7.5, 3) at (88.5, 36.2, 3) at (91.5, 36.2, 3) at (91.5, 51.2, 3) at (88.5, 51.2, 3) direction (0, 0, -1) diameter 1 end through all
properties part number "P1704_101" material "Plastique PMMA"
